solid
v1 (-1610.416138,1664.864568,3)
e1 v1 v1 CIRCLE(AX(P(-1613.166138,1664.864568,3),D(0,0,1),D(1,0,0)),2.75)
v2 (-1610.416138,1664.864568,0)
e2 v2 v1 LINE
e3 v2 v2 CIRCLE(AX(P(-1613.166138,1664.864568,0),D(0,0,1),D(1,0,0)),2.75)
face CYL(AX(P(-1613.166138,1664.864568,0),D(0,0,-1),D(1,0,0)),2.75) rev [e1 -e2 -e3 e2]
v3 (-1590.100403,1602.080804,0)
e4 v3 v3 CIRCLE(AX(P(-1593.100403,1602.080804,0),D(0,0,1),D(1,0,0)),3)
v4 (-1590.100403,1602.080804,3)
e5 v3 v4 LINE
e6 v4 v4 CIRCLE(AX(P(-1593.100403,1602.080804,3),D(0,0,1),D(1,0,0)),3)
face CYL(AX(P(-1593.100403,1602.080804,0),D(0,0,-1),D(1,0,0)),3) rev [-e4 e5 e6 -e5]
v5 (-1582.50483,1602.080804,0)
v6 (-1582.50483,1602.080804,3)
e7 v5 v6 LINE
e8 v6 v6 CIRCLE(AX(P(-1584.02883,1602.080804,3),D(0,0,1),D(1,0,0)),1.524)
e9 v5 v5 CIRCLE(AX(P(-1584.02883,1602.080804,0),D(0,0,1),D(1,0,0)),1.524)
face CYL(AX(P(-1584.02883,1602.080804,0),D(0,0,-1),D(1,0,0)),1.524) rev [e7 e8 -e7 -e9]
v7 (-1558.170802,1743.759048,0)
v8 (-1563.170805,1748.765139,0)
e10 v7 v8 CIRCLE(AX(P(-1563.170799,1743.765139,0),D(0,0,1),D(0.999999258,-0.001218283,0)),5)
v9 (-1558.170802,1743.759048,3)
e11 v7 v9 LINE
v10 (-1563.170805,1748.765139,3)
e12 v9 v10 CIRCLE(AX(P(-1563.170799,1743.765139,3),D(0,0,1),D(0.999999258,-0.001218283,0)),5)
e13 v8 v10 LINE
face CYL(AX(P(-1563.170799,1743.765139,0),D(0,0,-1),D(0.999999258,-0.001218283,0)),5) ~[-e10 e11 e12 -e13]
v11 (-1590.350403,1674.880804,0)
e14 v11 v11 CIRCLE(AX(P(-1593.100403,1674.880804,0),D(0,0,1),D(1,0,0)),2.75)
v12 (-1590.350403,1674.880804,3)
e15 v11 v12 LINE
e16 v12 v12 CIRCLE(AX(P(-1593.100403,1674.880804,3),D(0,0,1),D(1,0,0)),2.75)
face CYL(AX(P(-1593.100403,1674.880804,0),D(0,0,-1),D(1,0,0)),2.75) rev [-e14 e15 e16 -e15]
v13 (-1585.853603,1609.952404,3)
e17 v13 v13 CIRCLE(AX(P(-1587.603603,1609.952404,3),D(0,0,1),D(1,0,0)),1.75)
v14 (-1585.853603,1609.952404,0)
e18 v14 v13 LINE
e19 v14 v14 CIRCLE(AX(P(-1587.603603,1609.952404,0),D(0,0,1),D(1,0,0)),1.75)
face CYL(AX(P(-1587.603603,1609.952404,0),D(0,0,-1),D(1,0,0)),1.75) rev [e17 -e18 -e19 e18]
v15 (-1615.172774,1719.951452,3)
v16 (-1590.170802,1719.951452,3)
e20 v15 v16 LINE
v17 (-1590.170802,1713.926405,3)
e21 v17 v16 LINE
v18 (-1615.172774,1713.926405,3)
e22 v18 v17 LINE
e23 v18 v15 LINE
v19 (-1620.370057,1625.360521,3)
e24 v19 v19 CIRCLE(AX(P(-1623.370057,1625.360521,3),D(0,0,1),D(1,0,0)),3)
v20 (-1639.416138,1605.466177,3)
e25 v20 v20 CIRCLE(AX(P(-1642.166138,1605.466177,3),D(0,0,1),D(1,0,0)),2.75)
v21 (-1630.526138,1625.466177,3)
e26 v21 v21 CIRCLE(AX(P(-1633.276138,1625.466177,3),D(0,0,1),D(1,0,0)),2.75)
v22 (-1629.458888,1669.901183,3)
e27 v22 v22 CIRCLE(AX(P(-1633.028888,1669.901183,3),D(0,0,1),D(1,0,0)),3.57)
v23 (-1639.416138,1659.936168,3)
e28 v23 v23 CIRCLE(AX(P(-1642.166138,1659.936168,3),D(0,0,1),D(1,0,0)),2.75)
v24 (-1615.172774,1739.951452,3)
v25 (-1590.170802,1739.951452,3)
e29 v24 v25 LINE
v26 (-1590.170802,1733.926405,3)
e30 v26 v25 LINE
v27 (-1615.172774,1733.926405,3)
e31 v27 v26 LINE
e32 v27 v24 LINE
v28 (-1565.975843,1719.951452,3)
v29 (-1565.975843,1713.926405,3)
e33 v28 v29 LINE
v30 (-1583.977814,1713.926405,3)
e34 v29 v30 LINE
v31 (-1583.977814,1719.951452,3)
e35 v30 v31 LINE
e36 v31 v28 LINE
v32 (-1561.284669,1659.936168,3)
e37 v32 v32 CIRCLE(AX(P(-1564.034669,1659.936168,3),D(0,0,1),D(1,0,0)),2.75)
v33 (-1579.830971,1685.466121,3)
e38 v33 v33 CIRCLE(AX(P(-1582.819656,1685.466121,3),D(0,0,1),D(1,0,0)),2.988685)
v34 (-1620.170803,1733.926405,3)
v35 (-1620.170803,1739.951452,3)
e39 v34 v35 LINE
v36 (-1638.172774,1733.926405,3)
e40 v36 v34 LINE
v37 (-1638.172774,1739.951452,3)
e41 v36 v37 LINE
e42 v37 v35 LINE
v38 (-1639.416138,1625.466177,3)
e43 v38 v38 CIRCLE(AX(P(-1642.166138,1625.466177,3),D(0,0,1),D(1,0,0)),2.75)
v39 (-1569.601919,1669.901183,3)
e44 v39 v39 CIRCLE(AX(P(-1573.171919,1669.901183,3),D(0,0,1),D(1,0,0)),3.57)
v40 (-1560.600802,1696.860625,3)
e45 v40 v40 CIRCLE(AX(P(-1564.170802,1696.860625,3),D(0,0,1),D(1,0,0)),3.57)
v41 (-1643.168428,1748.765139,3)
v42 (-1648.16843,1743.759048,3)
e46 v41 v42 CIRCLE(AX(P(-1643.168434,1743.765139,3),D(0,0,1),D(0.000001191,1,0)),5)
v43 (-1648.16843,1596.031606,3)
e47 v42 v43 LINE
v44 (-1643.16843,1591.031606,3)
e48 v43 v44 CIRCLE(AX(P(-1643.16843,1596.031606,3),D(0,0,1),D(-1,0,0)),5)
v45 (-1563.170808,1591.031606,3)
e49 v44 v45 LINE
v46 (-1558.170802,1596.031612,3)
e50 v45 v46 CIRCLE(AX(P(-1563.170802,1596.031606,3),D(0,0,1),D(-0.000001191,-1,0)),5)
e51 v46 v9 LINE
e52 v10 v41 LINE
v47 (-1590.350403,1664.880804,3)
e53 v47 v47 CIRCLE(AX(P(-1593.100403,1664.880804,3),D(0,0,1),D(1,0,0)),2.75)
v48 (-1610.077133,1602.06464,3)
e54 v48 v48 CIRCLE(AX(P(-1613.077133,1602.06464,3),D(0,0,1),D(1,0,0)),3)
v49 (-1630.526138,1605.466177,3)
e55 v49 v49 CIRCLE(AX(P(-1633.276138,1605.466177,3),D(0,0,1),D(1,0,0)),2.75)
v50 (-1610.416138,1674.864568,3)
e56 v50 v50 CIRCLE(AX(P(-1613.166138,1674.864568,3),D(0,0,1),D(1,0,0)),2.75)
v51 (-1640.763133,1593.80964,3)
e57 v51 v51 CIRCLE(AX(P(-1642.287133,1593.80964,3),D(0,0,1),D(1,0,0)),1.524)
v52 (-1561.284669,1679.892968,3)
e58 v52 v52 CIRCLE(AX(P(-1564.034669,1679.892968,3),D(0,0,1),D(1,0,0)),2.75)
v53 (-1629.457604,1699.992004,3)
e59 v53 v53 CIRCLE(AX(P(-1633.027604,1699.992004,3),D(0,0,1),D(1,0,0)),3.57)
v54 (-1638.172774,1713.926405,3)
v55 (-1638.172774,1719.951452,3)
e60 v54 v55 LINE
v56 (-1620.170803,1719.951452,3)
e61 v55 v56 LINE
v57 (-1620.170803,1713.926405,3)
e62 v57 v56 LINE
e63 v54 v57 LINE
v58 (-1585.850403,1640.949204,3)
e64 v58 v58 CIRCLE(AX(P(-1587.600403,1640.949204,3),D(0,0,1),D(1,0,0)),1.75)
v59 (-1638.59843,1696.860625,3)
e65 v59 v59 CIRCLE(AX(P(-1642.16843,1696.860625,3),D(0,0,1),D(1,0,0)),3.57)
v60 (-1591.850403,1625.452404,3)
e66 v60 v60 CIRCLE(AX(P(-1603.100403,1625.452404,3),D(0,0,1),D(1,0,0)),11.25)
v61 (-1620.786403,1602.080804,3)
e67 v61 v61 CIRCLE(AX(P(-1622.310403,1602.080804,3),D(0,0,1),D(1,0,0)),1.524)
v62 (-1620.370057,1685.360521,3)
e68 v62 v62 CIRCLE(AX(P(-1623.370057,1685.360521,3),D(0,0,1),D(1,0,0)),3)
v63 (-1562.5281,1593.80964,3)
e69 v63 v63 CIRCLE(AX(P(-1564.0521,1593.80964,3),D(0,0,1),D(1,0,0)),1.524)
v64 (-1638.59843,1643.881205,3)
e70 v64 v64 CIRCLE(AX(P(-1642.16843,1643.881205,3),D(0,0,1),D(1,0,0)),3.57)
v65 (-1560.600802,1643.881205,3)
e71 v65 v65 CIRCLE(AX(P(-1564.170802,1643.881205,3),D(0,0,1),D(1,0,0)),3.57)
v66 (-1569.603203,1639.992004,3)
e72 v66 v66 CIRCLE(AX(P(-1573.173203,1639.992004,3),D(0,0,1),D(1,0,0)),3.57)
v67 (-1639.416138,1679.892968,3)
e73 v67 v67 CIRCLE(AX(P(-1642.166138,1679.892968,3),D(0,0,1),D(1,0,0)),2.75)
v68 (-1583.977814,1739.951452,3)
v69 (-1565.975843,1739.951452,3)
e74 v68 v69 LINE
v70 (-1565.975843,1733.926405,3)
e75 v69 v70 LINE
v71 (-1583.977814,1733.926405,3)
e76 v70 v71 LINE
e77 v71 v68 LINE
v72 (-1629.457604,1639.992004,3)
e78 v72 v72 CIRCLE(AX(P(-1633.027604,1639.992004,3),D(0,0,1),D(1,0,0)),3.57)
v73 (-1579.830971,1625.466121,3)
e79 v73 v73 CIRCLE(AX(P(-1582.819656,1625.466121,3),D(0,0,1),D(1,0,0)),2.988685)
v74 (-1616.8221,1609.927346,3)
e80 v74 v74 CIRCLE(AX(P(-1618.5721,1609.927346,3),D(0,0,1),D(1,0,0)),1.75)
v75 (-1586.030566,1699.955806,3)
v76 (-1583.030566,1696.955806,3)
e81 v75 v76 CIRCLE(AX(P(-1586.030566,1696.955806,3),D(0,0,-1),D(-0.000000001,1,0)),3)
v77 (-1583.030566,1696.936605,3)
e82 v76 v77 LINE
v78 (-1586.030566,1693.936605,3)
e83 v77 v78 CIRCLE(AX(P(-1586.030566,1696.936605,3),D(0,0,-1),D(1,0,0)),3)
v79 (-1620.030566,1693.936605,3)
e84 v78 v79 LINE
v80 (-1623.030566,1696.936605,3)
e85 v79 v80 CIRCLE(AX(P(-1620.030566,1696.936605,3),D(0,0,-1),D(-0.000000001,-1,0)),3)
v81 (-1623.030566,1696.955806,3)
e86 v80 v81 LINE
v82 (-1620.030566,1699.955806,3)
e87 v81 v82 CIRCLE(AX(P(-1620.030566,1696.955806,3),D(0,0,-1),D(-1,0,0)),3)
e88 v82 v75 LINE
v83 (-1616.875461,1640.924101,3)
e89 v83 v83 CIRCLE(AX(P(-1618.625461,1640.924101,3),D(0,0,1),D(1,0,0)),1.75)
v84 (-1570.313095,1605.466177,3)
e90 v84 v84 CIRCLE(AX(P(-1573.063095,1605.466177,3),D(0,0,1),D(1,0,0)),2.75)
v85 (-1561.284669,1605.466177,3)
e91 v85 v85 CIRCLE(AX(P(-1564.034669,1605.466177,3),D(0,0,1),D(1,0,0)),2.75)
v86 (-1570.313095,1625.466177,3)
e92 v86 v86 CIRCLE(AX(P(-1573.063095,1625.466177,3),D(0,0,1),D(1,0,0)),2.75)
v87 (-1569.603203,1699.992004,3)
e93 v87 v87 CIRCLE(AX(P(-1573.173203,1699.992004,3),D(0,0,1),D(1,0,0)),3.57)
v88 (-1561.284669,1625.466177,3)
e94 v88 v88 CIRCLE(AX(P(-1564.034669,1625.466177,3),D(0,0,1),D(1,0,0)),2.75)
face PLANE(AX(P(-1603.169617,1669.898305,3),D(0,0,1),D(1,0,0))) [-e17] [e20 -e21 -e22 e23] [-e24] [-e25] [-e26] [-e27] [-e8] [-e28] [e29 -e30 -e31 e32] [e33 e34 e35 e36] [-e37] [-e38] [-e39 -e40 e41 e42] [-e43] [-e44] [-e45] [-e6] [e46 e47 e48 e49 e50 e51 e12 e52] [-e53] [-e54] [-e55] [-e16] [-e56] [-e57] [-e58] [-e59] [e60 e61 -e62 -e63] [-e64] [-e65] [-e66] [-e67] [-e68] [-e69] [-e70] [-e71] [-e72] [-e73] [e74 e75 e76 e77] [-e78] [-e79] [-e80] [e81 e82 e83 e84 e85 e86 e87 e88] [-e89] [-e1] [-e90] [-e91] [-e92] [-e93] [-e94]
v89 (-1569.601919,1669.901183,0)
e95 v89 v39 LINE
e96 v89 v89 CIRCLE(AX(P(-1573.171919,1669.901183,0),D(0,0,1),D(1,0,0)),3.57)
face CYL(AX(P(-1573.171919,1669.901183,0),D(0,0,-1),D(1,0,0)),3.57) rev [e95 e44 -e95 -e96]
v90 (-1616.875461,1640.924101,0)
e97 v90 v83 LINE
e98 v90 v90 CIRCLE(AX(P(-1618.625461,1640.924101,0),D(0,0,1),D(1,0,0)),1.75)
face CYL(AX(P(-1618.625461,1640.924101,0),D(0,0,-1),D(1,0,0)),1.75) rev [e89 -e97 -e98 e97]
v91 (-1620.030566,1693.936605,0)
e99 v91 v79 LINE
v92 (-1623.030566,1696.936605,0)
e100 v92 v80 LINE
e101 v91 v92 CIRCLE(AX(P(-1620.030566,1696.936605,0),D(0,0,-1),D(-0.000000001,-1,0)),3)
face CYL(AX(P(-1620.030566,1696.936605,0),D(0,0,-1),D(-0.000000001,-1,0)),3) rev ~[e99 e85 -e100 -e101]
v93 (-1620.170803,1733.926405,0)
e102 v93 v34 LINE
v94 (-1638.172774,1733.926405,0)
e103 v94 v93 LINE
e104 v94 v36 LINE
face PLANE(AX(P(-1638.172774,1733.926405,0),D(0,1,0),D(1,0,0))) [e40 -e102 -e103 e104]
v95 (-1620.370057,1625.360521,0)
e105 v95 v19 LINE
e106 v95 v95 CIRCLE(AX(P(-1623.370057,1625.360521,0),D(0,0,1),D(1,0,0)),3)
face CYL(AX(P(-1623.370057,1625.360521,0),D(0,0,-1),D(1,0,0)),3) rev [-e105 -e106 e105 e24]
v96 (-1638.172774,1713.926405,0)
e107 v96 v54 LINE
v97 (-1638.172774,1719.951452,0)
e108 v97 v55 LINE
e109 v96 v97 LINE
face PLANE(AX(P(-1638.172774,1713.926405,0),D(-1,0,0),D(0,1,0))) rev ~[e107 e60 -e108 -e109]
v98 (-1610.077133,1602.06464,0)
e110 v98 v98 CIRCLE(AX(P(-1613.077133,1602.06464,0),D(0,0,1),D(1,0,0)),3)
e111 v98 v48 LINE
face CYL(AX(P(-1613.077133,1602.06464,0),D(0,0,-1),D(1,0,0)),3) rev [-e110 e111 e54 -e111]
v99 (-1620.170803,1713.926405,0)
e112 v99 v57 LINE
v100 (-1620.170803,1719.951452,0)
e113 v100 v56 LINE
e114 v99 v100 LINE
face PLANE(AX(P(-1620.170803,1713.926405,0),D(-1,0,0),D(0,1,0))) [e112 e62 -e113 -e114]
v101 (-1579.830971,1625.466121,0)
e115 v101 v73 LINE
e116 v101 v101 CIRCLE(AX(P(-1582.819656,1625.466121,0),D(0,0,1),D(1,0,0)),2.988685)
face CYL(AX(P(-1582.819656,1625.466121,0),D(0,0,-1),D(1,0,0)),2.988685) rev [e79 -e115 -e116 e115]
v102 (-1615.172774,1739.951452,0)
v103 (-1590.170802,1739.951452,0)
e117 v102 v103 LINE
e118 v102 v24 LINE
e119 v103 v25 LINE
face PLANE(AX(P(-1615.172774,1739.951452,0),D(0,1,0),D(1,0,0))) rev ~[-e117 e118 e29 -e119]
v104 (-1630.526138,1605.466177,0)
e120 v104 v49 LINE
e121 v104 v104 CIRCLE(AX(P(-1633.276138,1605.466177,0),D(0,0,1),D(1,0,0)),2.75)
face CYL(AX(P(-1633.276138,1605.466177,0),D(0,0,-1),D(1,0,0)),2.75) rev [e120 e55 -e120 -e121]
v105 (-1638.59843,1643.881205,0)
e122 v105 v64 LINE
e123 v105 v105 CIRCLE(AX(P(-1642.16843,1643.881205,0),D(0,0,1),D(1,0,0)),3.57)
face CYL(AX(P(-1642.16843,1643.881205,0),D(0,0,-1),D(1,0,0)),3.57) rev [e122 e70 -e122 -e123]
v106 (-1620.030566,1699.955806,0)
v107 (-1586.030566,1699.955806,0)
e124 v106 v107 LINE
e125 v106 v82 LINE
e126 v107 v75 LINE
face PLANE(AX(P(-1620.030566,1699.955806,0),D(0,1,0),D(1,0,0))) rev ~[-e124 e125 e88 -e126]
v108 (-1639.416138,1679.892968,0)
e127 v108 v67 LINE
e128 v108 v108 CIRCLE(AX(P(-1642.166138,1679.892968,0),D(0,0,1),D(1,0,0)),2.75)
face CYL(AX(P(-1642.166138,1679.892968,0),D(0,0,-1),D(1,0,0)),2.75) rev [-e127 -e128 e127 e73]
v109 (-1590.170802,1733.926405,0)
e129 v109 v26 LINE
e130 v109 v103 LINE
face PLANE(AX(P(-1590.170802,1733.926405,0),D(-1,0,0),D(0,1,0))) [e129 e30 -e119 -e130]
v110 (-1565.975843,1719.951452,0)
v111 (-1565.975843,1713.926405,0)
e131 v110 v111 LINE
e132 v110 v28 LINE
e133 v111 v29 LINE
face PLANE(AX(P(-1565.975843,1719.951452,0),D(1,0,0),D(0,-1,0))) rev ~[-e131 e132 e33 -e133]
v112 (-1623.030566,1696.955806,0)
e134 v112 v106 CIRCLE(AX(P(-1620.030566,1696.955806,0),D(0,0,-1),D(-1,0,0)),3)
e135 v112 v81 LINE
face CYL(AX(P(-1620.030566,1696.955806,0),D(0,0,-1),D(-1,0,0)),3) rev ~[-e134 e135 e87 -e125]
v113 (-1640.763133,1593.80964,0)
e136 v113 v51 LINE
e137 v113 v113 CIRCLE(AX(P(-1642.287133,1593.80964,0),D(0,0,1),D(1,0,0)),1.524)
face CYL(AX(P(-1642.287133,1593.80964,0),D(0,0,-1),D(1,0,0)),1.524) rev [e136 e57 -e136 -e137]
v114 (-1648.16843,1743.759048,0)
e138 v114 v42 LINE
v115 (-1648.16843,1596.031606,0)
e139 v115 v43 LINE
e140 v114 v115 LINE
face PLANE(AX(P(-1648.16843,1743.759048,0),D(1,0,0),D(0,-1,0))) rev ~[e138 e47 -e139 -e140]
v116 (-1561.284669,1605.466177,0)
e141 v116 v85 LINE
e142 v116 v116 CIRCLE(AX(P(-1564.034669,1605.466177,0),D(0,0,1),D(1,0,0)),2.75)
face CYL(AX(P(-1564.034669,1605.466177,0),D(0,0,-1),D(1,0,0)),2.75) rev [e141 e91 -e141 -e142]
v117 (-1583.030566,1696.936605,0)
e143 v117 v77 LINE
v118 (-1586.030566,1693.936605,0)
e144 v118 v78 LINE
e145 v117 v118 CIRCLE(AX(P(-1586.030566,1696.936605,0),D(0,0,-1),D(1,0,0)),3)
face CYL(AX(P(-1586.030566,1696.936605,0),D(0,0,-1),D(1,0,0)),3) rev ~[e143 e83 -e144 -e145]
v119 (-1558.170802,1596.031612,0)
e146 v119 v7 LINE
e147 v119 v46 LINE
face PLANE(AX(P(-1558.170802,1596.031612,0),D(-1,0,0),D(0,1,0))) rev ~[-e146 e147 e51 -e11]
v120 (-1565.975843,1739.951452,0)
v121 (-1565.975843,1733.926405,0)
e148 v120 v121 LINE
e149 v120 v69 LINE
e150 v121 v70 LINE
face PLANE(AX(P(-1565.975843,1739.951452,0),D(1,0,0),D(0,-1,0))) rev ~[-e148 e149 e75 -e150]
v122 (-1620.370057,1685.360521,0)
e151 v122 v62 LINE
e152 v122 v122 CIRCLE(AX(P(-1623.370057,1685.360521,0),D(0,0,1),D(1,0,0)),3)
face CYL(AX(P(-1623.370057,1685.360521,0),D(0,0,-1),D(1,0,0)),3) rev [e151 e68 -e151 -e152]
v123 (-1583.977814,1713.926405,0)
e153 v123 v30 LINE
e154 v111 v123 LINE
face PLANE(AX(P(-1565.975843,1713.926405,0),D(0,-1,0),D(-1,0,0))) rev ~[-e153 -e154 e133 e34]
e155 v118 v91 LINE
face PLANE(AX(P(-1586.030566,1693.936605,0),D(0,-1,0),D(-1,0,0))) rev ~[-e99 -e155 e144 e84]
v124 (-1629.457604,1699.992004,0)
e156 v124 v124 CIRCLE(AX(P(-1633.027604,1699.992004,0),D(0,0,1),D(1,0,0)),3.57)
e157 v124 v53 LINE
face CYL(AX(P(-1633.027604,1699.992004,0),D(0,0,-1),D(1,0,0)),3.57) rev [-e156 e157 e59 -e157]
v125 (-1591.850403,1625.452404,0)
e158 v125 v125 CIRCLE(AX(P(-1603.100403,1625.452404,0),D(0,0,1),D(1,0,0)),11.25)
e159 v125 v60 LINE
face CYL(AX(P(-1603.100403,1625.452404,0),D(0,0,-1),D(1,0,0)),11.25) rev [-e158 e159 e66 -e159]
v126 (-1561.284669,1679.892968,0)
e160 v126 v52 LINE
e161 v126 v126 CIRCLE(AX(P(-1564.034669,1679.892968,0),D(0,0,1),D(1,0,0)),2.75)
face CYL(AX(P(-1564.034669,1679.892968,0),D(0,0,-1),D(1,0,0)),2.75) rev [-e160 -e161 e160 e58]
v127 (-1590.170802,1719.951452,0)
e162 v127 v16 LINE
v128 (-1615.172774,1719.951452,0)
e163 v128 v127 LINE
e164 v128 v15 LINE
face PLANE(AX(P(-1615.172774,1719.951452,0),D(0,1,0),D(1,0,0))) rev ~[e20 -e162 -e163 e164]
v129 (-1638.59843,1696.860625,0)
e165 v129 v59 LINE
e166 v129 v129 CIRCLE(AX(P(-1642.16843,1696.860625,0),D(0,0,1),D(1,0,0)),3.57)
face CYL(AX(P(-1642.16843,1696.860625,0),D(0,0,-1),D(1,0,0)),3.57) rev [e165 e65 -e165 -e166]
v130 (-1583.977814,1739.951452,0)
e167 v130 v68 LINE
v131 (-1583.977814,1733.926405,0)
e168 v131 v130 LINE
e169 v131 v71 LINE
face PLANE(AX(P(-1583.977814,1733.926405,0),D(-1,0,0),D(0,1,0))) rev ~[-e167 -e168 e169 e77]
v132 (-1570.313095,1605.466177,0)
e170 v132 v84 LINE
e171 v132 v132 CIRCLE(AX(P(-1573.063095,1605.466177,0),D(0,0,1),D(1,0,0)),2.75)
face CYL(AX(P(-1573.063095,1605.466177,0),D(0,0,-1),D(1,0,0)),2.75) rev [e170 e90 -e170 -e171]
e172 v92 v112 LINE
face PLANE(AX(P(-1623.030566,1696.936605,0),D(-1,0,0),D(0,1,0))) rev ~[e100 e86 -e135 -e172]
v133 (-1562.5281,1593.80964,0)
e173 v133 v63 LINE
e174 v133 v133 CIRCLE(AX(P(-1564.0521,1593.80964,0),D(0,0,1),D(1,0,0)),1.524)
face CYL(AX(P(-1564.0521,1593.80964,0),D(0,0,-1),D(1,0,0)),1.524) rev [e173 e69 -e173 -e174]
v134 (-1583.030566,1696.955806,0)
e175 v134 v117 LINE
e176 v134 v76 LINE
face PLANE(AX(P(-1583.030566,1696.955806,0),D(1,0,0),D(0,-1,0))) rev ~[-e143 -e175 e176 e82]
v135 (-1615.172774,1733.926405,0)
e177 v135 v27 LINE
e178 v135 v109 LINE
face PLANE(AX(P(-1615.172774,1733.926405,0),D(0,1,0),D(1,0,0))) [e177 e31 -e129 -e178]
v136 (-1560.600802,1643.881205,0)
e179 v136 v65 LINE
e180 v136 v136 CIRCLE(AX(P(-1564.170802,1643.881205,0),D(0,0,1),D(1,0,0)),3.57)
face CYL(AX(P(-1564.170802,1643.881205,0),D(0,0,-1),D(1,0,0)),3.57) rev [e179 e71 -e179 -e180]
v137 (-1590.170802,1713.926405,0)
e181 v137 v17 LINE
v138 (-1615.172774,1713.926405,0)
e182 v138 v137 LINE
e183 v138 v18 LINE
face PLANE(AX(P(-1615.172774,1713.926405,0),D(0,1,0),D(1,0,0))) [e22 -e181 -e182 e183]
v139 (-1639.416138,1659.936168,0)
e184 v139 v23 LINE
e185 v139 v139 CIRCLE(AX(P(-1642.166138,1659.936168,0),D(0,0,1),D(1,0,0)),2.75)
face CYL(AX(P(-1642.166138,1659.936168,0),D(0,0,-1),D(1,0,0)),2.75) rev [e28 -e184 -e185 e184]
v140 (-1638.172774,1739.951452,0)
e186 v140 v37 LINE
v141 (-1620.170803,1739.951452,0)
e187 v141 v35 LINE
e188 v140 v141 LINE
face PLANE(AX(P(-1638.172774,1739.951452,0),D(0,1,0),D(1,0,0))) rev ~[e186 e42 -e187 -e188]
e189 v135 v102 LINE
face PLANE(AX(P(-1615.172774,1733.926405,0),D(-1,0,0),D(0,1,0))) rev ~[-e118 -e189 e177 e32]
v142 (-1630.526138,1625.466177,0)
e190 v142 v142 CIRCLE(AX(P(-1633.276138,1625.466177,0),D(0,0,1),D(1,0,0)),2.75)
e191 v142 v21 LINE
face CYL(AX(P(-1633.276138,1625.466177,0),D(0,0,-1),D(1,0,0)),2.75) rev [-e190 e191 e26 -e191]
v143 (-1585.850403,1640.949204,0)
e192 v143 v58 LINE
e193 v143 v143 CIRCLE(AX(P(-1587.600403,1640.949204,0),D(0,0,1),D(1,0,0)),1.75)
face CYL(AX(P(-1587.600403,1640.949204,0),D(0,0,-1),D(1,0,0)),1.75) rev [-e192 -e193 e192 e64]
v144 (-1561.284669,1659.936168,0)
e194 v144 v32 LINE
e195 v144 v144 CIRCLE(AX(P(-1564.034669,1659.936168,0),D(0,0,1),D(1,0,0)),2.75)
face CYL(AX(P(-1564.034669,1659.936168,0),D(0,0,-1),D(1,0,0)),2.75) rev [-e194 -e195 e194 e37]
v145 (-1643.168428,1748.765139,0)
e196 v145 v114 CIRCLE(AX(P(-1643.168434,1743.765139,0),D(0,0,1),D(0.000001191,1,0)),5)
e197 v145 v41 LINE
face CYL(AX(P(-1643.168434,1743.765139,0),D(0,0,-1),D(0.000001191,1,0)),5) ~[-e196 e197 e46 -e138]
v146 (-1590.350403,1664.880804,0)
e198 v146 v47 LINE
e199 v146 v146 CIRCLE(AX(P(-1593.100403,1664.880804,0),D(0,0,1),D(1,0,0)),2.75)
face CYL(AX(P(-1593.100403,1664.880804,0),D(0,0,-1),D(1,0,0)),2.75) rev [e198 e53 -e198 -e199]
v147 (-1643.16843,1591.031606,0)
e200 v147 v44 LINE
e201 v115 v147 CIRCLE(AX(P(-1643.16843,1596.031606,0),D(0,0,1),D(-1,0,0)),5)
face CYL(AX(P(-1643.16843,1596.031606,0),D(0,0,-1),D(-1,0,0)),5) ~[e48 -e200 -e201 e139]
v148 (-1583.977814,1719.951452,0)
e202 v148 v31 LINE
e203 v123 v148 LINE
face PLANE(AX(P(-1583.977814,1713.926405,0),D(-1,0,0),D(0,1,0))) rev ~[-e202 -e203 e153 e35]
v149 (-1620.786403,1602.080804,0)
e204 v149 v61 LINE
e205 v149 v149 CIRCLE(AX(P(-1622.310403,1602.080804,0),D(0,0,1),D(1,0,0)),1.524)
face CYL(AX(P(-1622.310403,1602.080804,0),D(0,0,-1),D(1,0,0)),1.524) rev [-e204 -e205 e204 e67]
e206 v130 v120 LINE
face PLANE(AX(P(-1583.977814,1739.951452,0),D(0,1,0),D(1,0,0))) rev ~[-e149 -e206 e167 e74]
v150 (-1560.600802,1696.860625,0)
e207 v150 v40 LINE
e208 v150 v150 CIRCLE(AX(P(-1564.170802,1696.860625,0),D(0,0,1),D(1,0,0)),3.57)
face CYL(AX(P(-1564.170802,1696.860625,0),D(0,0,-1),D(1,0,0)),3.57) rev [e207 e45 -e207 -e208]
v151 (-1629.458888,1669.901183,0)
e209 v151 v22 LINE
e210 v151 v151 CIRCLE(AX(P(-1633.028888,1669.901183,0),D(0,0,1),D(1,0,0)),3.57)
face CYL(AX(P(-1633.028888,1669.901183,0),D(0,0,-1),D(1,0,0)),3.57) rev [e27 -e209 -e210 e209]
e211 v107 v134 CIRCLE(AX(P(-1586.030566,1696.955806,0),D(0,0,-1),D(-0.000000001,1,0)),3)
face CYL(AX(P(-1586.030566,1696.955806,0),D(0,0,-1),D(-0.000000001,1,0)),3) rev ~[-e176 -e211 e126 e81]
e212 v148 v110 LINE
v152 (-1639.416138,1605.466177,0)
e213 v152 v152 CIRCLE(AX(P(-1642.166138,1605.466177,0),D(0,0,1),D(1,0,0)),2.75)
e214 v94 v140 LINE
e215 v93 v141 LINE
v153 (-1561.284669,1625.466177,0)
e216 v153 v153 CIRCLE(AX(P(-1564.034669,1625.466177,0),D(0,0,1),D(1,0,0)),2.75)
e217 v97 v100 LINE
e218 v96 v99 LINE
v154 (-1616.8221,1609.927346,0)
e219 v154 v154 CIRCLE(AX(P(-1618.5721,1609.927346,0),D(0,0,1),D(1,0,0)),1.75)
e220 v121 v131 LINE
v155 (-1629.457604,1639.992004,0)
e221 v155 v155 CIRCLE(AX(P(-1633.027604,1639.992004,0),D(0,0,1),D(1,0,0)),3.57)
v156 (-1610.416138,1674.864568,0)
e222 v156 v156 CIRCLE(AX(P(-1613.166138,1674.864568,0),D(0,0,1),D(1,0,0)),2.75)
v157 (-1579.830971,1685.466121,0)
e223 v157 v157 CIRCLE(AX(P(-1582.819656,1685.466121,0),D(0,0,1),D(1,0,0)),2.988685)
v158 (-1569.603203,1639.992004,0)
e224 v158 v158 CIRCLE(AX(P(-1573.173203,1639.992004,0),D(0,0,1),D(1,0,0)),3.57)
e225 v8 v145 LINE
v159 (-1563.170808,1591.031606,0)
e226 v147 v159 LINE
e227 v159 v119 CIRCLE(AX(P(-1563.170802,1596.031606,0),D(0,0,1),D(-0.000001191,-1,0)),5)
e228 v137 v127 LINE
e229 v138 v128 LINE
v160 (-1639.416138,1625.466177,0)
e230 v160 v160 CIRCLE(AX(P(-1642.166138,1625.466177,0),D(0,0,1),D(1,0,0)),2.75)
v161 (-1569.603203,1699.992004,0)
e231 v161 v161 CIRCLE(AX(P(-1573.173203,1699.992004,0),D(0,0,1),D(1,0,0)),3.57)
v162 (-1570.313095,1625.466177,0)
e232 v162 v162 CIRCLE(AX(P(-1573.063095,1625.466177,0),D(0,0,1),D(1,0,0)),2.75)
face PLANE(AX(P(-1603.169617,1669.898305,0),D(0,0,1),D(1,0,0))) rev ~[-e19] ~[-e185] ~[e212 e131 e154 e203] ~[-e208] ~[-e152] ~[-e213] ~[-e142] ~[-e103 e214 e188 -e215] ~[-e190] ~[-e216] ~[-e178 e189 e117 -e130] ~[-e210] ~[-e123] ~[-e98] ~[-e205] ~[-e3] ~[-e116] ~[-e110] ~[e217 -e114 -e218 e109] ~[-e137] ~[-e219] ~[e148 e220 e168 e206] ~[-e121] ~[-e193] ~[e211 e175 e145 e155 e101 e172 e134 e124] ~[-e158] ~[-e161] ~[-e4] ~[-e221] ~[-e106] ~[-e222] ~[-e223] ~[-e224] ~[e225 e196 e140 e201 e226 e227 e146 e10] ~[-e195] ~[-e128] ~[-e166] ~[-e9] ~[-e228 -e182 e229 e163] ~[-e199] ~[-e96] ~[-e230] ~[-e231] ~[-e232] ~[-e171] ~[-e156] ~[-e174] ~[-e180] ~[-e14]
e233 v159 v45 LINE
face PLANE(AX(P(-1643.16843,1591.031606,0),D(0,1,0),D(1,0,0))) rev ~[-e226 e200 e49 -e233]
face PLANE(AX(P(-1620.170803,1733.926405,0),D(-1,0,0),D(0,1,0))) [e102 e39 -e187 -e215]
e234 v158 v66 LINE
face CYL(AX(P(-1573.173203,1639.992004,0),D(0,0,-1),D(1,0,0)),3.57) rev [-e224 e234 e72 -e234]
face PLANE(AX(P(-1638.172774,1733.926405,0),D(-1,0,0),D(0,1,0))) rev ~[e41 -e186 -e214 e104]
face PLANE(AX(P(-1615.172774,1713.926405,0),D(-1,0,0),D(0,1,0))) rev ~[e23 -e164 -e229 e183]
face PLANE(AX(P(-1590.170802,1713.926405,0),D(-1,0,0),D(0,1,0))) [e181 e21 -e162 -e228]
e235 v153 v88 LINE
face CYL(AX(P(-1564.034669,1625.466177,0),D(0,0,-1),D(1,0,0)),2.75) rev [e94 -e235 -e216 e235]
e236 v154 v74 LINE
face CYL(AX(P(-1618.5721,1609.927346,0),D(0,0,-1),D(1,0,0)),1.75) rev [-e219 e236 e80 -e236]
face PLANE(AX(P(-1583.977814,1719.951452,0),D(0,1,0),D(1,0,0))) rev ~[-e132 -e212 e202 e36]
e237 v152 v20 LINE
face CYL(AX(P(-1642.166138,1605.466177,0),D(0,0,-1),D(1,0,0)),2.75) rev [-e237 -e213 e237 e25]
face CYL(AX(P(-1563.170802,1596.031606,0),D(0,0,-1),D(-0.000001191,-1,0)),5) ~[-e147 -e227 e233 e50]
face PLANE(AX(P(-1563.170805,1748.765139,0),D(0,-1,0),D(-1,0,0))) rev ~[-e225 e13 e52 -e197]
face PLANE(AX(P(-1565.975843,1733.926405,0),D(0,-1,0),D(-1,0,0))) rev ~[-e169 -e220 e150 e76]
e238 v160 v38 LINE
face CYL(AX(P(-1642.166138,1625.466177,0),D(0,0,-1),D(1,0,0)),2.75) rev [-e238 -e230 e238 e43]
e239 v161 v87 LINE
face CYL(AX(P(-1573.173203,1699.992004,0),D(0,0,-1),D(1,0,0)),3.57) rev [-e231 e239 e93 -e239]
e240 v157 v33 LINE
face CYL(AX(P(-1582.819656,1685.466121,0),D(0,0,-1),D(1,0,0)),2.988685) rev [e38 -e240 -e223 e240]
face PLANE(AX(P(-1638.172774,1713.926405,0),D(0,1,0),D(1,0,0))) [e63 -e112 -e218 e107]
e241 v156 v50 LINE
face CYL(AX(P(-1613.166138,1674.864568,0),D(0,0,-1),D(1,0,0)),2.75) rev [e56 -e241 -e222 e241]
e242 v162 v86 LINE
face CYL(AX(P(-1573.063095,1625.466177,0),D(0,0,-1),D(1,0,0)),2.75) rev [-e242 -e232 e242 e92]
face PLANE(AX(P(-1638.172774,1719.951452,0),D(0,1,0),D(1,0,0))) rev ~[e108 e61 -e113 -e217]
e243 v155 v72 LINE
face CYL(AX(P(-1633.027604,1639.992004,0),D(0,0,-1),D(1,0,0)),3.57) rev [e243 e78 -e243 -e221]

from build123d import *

# Parameters (mm, degrees)
MODEL_R             = 2.75
MODEL_R_2           = 1.524
MODEL_R_3           = 3.57
MODEL_R_4           = 3
MODEL_R_5           = 1.75
MODEL_R_6           = 2.988685284
MODEL_R_7           = 11.25
MODEL_W             = 18.00197115
MODEL_H             = 6.02504647
MODEL_W_2           = 25.001971156
MODEL_H_2           = 6.025046469
BOSS_EXTRUDE2_DEPTH = 3


with BuildPart() as part:
    # Model → Boss-Extrude2 (new body)
    with BuildSketch(Plane.XY):
        with BuildLine():
            Line((-1558.170802496, 1596.031612088), (-1558.170802496, 1743.759047656))
            ThreePointArc((-1558.170802496, 1743.759047656), (-1559.633113999, 1747.298520787), (-1563.170804742, 1748.765139071))
            Line((-1563.170804742, 1748.765139071), (-1643.16842822, 1748.765139071))
            ThreePointArc((-1643.16842822, 1748.765139071), (-1646.706118961, 1747.298520788), (-1648.168430466, 1743.759047658))
            Line((-1648.168430466, 1743.759047658), (-1648.168430466, 1596.031606131))
            ThreePointArc((-1648.168430466, 1596.031606131), (-1646.703964372, 1592.496072226), (-1643.168430466, 1591.031606131))
            Line((-1643.168430466, 1591.031606131), (-1563.170808452, 1591.031606131))
            ThreePointArc((-1563.170808452, 1591.031606131), (-1559.63526859, 1592.496072225), (-1558.170802496, 1596.031612088))
        make_face()
        with Locations((-1573.06309524, 1605.466177477)):
            Circle(MODEL_R, mode=Mode.SUBTRACT)
        with Locations((-1573.06309524, 1625.466177477)):
            Circle(MODEL_R, mode=Mode.SUBTRACT)
        with Locations((-1633.276137722, 1605.466177477)):
            Circle(MODEL_R, mode=Mode.SUBTRACT)
        with Locations((-1633.276137722, 1625.466177477)):
            Circle(MODEL_R, mode=Mode.SUBTRACT)
        with Locations((-1564.034669062, 1605.466177486)):
            Circle(MODEL_R, mode=Mode.SUBTRACT)
        with Locations((-1642.166137722, 1605.466177477)):
            Circle(MODEL_R, mode=Mode.SUBTRACT)
        with Locations((-1564.034669062, 1625.466177486)):
            Circle(MODEL_R, mode=Mode.SUBTRACT)
        with Locations((-1642.166137722, 1625.466177477)):
            Circle(MODEL_R, mode=Mode.SUBTRACT)
        with Locations((-1564.0520997, 1593.809639733)):
            Circle(MODEL_R_2, mode=Mode.SUBTRACT)
        with Locations((-1584.028829584, 1602.080803539)):
            Circle(MODEL_R_2, mode=Mode.SUBTRACT)
        with Locations((-1642.287133262, 1593.809639733)):
            Circle(MODEL_R_2, mode=Mode.SUBTRACT)
        with Locations((-1622.310403377, 1602.080803539)):
            Circle(MODEL_R_2, mode=Mode.SUBTRACT)
        with Locations((-1564.034669062, 1679.892967716)):
            Circle(MODEL_R, mode=Mode.SUBTRACT)
        with Locations((-1564.034669062, 1659.936167716)):
            Circle(MODEL_R, mode=Mode.SUBTRACT)
        with Locations((-1642.166137722, 1679.892967726)):
            Circle(MODEL_R, mode=Mode.SUBTRACT)
        with Locations((-1642.166137722, 1659.936167726)):
            Circle(MODEL_R, mode=Mode.SUBTRACT)
        with Locations((-1633.028888044, 1669.901183151)):
            Circle(MODEL_R_3, mode=Mode.SUBTRACT)
        with Locations((-1633.027603994, 1699.99200382)):
            Circle(MODEL_R_3, mode=Mode.SUBTRACT)
        with Locations((-1633.027603994, 1639.99200382)):
            Circle(MODEL_R_3, mode=Mode.SUBTRACT)
        with Locations((-1642.168430466, 1643.881204835)):
            Circle(MODEL_R_3, mode=Mode.SUBTRACT)
        with Locations((-1642.168430466, 1696.860624835)):
            Circle(MODEL_R_3, mode=Mode.SUBTRACT)
        with Locations((-1564.170802496, 1643.881204835)):
            Circle(MODEL_R_3, mode=Mode.SUBTRACT)
        with Locations((-1573.17191871, 1669.901183151)):
            Circle(MODEL_R_3, mode=Mode.SUBTRACT)
        with Locations((-1613.166137692, 1674.864567716)):
            Circle(MODEL_R, mode=Mode.SUBTRACT)
        with Locations((-1593.100403377, 1674.880803539)):
            Circle(MODEL_R, mode=Mode.SUBTRACT)
        with Locations((-1613.077133262, 1602.064639733)):
            Circle(MODEL_R_4, mode=Mode.SUBTRACT)
        with Locations((-1593.100403377, 1602.080803539)):
            Circle(MODEL_R_4, mode=Mode.SUBTRACT)
        with Locations((-1564.170802496, 1696.860624835)):
            Circle(MODEL_R_3, mode=Mode.SUBTRACT)
        with Locations((-1613.166137692, 1664.864567716)):
            Circle(MODEL_R, mode=Mode.SUBTRACT)
        with Locations((-1618.57210033, 1609.927346224)):
            Circle(MODEL_R_5, mode=Mode.SUBTRACT)
        with Locations((-1618.625460969, 1640.924100772)):
            Circle(MODEL_R_5, mode=Mode.SUBTRACT)
        with Locations((-1593.100403377, 1664.880803539)):
            Circle(MODEL_R, mode=Mode.SUBTRACT)
        with Locations((-1573.17320276, 1699.99200382)):
            Circle(MODEL_R_3, mode=Mode.SUBTRACT)
        with Locations((-1623.370056938, 1685.360521432)):
            Circle(MODEL_R_4, mode=Mode.SUBTRACT)
        with Locations((-1582.81965611, 1685.466121434)):
            Circle(MODEL_R_6, mode=Mode.SUBTRACT)
        with Locations((-1623.370056938, 1625.360521432)):
            Circle(MODEL_R_4, mode=Mode.SUBTRACT)
        with Locations((-1582.81965611, 1625.466121434)):
            Circle(MODEL_R_6, mode=Mode.SUBTRACT)
        with Locations((-1587.603603064, 1609.952403818)):
            Circle(MODEL_R_5, mode=Mode.SUBTRACT)
        with Locations((-1587.600403377, 1640.949204131)):
            Circle(MODEL_R_5, mode=Mode.SUBTRACT)
        with Locations((-1603.100403377, 1625.452403818)):
            Circle(MODEL_R_7, mode=Mode.SUBTRACT)
        with Locations((-1573.17320276, 1639.99200382)):
            Circle(MODEL_R_3, mode=Mode.SUBTRACT)
        Polygon((-1583.977814187, 1713.92640548), (-1583.977814187, 1719.951451949), (-1568.975843031, 1719.951451949), (-1565.975843031, 1719.951451949), (-1565.975843031, 1713.92640548), (-1568.975843031, 1713.92640548), align=None, mode=Mode.SUBTRACT)
        with Locations((-1629.171788075, 1716.938928715)):
            Rectangle(MODEL_W, MODEL_H, mode=Mode.SUBTRACT)
        with Locations((-1629.171788075, 1736.938928715)):
            Rectangle(MODEL_W, MODEL_H, mode=Mode.SUBTRACT)
        Polygon((-1583.977814187, 1733.92640548), (-1583.977814187, 1739.951451949), (-1568.975843031, 1739.951451949), (-1565.975843031, 1739.951451949), (-1565.975843031, 1733.92640548), (-1568.975843031, 1733.92640548), align=None, mode=Mode.SUBTRACT)
        with Locations((-1602.671788074, 1716.938928714)):
            Rectangle(MODEL_W_2, MODEL_H_2, mode=Mode.SUBTRACT)
        with Locations((-1602.671788074, 1736.938928714)):
            Rectangle(MODEL_W_2, MODEL_H_2, mode=Mode.SUBTRACT)
        with BuildLine():
            Line((-1583.030566378, 1696.955805603), (-1583.030566378, 1696.93660548))
            ThreePointArc((-1583.030566378, 1696.93660548), (-1583.909246034, 1694.815285137), (-1586.030566378, 1693.93660548))
            Line((-1586.030566378, 1693.93660548), (-1620.030566378, 1693.93660548))
            ThreePointArc((-1620.030566378, 1693.93660548), (-1622.151886721, 1694.815285137), (-1623.030566378, 1696.93660548))
            Line((-1623.030566378, 1696.93660548), (-1623.030566378, 1696.955805603))
            ThreePointArc((-1623.030566378, 1696.955805603), (-1622.151886721, 1699.077125947), (-1620.030566378, 1699.955805603))
            Line((-1620.030566378, 1699.955805603), (-1586.030566378, 1699.955805603))
            ThreePointArc((-1586.030566378, 1699.955805603), (-1583.909246034, 1699.077125947), (-1583.030566378, 1696.955805603))
        make_face(mode=Mode.SUBTRACT)
    extrude(amount=BOSS_EXTRUDE2_DEPTH)


solid = part.part
